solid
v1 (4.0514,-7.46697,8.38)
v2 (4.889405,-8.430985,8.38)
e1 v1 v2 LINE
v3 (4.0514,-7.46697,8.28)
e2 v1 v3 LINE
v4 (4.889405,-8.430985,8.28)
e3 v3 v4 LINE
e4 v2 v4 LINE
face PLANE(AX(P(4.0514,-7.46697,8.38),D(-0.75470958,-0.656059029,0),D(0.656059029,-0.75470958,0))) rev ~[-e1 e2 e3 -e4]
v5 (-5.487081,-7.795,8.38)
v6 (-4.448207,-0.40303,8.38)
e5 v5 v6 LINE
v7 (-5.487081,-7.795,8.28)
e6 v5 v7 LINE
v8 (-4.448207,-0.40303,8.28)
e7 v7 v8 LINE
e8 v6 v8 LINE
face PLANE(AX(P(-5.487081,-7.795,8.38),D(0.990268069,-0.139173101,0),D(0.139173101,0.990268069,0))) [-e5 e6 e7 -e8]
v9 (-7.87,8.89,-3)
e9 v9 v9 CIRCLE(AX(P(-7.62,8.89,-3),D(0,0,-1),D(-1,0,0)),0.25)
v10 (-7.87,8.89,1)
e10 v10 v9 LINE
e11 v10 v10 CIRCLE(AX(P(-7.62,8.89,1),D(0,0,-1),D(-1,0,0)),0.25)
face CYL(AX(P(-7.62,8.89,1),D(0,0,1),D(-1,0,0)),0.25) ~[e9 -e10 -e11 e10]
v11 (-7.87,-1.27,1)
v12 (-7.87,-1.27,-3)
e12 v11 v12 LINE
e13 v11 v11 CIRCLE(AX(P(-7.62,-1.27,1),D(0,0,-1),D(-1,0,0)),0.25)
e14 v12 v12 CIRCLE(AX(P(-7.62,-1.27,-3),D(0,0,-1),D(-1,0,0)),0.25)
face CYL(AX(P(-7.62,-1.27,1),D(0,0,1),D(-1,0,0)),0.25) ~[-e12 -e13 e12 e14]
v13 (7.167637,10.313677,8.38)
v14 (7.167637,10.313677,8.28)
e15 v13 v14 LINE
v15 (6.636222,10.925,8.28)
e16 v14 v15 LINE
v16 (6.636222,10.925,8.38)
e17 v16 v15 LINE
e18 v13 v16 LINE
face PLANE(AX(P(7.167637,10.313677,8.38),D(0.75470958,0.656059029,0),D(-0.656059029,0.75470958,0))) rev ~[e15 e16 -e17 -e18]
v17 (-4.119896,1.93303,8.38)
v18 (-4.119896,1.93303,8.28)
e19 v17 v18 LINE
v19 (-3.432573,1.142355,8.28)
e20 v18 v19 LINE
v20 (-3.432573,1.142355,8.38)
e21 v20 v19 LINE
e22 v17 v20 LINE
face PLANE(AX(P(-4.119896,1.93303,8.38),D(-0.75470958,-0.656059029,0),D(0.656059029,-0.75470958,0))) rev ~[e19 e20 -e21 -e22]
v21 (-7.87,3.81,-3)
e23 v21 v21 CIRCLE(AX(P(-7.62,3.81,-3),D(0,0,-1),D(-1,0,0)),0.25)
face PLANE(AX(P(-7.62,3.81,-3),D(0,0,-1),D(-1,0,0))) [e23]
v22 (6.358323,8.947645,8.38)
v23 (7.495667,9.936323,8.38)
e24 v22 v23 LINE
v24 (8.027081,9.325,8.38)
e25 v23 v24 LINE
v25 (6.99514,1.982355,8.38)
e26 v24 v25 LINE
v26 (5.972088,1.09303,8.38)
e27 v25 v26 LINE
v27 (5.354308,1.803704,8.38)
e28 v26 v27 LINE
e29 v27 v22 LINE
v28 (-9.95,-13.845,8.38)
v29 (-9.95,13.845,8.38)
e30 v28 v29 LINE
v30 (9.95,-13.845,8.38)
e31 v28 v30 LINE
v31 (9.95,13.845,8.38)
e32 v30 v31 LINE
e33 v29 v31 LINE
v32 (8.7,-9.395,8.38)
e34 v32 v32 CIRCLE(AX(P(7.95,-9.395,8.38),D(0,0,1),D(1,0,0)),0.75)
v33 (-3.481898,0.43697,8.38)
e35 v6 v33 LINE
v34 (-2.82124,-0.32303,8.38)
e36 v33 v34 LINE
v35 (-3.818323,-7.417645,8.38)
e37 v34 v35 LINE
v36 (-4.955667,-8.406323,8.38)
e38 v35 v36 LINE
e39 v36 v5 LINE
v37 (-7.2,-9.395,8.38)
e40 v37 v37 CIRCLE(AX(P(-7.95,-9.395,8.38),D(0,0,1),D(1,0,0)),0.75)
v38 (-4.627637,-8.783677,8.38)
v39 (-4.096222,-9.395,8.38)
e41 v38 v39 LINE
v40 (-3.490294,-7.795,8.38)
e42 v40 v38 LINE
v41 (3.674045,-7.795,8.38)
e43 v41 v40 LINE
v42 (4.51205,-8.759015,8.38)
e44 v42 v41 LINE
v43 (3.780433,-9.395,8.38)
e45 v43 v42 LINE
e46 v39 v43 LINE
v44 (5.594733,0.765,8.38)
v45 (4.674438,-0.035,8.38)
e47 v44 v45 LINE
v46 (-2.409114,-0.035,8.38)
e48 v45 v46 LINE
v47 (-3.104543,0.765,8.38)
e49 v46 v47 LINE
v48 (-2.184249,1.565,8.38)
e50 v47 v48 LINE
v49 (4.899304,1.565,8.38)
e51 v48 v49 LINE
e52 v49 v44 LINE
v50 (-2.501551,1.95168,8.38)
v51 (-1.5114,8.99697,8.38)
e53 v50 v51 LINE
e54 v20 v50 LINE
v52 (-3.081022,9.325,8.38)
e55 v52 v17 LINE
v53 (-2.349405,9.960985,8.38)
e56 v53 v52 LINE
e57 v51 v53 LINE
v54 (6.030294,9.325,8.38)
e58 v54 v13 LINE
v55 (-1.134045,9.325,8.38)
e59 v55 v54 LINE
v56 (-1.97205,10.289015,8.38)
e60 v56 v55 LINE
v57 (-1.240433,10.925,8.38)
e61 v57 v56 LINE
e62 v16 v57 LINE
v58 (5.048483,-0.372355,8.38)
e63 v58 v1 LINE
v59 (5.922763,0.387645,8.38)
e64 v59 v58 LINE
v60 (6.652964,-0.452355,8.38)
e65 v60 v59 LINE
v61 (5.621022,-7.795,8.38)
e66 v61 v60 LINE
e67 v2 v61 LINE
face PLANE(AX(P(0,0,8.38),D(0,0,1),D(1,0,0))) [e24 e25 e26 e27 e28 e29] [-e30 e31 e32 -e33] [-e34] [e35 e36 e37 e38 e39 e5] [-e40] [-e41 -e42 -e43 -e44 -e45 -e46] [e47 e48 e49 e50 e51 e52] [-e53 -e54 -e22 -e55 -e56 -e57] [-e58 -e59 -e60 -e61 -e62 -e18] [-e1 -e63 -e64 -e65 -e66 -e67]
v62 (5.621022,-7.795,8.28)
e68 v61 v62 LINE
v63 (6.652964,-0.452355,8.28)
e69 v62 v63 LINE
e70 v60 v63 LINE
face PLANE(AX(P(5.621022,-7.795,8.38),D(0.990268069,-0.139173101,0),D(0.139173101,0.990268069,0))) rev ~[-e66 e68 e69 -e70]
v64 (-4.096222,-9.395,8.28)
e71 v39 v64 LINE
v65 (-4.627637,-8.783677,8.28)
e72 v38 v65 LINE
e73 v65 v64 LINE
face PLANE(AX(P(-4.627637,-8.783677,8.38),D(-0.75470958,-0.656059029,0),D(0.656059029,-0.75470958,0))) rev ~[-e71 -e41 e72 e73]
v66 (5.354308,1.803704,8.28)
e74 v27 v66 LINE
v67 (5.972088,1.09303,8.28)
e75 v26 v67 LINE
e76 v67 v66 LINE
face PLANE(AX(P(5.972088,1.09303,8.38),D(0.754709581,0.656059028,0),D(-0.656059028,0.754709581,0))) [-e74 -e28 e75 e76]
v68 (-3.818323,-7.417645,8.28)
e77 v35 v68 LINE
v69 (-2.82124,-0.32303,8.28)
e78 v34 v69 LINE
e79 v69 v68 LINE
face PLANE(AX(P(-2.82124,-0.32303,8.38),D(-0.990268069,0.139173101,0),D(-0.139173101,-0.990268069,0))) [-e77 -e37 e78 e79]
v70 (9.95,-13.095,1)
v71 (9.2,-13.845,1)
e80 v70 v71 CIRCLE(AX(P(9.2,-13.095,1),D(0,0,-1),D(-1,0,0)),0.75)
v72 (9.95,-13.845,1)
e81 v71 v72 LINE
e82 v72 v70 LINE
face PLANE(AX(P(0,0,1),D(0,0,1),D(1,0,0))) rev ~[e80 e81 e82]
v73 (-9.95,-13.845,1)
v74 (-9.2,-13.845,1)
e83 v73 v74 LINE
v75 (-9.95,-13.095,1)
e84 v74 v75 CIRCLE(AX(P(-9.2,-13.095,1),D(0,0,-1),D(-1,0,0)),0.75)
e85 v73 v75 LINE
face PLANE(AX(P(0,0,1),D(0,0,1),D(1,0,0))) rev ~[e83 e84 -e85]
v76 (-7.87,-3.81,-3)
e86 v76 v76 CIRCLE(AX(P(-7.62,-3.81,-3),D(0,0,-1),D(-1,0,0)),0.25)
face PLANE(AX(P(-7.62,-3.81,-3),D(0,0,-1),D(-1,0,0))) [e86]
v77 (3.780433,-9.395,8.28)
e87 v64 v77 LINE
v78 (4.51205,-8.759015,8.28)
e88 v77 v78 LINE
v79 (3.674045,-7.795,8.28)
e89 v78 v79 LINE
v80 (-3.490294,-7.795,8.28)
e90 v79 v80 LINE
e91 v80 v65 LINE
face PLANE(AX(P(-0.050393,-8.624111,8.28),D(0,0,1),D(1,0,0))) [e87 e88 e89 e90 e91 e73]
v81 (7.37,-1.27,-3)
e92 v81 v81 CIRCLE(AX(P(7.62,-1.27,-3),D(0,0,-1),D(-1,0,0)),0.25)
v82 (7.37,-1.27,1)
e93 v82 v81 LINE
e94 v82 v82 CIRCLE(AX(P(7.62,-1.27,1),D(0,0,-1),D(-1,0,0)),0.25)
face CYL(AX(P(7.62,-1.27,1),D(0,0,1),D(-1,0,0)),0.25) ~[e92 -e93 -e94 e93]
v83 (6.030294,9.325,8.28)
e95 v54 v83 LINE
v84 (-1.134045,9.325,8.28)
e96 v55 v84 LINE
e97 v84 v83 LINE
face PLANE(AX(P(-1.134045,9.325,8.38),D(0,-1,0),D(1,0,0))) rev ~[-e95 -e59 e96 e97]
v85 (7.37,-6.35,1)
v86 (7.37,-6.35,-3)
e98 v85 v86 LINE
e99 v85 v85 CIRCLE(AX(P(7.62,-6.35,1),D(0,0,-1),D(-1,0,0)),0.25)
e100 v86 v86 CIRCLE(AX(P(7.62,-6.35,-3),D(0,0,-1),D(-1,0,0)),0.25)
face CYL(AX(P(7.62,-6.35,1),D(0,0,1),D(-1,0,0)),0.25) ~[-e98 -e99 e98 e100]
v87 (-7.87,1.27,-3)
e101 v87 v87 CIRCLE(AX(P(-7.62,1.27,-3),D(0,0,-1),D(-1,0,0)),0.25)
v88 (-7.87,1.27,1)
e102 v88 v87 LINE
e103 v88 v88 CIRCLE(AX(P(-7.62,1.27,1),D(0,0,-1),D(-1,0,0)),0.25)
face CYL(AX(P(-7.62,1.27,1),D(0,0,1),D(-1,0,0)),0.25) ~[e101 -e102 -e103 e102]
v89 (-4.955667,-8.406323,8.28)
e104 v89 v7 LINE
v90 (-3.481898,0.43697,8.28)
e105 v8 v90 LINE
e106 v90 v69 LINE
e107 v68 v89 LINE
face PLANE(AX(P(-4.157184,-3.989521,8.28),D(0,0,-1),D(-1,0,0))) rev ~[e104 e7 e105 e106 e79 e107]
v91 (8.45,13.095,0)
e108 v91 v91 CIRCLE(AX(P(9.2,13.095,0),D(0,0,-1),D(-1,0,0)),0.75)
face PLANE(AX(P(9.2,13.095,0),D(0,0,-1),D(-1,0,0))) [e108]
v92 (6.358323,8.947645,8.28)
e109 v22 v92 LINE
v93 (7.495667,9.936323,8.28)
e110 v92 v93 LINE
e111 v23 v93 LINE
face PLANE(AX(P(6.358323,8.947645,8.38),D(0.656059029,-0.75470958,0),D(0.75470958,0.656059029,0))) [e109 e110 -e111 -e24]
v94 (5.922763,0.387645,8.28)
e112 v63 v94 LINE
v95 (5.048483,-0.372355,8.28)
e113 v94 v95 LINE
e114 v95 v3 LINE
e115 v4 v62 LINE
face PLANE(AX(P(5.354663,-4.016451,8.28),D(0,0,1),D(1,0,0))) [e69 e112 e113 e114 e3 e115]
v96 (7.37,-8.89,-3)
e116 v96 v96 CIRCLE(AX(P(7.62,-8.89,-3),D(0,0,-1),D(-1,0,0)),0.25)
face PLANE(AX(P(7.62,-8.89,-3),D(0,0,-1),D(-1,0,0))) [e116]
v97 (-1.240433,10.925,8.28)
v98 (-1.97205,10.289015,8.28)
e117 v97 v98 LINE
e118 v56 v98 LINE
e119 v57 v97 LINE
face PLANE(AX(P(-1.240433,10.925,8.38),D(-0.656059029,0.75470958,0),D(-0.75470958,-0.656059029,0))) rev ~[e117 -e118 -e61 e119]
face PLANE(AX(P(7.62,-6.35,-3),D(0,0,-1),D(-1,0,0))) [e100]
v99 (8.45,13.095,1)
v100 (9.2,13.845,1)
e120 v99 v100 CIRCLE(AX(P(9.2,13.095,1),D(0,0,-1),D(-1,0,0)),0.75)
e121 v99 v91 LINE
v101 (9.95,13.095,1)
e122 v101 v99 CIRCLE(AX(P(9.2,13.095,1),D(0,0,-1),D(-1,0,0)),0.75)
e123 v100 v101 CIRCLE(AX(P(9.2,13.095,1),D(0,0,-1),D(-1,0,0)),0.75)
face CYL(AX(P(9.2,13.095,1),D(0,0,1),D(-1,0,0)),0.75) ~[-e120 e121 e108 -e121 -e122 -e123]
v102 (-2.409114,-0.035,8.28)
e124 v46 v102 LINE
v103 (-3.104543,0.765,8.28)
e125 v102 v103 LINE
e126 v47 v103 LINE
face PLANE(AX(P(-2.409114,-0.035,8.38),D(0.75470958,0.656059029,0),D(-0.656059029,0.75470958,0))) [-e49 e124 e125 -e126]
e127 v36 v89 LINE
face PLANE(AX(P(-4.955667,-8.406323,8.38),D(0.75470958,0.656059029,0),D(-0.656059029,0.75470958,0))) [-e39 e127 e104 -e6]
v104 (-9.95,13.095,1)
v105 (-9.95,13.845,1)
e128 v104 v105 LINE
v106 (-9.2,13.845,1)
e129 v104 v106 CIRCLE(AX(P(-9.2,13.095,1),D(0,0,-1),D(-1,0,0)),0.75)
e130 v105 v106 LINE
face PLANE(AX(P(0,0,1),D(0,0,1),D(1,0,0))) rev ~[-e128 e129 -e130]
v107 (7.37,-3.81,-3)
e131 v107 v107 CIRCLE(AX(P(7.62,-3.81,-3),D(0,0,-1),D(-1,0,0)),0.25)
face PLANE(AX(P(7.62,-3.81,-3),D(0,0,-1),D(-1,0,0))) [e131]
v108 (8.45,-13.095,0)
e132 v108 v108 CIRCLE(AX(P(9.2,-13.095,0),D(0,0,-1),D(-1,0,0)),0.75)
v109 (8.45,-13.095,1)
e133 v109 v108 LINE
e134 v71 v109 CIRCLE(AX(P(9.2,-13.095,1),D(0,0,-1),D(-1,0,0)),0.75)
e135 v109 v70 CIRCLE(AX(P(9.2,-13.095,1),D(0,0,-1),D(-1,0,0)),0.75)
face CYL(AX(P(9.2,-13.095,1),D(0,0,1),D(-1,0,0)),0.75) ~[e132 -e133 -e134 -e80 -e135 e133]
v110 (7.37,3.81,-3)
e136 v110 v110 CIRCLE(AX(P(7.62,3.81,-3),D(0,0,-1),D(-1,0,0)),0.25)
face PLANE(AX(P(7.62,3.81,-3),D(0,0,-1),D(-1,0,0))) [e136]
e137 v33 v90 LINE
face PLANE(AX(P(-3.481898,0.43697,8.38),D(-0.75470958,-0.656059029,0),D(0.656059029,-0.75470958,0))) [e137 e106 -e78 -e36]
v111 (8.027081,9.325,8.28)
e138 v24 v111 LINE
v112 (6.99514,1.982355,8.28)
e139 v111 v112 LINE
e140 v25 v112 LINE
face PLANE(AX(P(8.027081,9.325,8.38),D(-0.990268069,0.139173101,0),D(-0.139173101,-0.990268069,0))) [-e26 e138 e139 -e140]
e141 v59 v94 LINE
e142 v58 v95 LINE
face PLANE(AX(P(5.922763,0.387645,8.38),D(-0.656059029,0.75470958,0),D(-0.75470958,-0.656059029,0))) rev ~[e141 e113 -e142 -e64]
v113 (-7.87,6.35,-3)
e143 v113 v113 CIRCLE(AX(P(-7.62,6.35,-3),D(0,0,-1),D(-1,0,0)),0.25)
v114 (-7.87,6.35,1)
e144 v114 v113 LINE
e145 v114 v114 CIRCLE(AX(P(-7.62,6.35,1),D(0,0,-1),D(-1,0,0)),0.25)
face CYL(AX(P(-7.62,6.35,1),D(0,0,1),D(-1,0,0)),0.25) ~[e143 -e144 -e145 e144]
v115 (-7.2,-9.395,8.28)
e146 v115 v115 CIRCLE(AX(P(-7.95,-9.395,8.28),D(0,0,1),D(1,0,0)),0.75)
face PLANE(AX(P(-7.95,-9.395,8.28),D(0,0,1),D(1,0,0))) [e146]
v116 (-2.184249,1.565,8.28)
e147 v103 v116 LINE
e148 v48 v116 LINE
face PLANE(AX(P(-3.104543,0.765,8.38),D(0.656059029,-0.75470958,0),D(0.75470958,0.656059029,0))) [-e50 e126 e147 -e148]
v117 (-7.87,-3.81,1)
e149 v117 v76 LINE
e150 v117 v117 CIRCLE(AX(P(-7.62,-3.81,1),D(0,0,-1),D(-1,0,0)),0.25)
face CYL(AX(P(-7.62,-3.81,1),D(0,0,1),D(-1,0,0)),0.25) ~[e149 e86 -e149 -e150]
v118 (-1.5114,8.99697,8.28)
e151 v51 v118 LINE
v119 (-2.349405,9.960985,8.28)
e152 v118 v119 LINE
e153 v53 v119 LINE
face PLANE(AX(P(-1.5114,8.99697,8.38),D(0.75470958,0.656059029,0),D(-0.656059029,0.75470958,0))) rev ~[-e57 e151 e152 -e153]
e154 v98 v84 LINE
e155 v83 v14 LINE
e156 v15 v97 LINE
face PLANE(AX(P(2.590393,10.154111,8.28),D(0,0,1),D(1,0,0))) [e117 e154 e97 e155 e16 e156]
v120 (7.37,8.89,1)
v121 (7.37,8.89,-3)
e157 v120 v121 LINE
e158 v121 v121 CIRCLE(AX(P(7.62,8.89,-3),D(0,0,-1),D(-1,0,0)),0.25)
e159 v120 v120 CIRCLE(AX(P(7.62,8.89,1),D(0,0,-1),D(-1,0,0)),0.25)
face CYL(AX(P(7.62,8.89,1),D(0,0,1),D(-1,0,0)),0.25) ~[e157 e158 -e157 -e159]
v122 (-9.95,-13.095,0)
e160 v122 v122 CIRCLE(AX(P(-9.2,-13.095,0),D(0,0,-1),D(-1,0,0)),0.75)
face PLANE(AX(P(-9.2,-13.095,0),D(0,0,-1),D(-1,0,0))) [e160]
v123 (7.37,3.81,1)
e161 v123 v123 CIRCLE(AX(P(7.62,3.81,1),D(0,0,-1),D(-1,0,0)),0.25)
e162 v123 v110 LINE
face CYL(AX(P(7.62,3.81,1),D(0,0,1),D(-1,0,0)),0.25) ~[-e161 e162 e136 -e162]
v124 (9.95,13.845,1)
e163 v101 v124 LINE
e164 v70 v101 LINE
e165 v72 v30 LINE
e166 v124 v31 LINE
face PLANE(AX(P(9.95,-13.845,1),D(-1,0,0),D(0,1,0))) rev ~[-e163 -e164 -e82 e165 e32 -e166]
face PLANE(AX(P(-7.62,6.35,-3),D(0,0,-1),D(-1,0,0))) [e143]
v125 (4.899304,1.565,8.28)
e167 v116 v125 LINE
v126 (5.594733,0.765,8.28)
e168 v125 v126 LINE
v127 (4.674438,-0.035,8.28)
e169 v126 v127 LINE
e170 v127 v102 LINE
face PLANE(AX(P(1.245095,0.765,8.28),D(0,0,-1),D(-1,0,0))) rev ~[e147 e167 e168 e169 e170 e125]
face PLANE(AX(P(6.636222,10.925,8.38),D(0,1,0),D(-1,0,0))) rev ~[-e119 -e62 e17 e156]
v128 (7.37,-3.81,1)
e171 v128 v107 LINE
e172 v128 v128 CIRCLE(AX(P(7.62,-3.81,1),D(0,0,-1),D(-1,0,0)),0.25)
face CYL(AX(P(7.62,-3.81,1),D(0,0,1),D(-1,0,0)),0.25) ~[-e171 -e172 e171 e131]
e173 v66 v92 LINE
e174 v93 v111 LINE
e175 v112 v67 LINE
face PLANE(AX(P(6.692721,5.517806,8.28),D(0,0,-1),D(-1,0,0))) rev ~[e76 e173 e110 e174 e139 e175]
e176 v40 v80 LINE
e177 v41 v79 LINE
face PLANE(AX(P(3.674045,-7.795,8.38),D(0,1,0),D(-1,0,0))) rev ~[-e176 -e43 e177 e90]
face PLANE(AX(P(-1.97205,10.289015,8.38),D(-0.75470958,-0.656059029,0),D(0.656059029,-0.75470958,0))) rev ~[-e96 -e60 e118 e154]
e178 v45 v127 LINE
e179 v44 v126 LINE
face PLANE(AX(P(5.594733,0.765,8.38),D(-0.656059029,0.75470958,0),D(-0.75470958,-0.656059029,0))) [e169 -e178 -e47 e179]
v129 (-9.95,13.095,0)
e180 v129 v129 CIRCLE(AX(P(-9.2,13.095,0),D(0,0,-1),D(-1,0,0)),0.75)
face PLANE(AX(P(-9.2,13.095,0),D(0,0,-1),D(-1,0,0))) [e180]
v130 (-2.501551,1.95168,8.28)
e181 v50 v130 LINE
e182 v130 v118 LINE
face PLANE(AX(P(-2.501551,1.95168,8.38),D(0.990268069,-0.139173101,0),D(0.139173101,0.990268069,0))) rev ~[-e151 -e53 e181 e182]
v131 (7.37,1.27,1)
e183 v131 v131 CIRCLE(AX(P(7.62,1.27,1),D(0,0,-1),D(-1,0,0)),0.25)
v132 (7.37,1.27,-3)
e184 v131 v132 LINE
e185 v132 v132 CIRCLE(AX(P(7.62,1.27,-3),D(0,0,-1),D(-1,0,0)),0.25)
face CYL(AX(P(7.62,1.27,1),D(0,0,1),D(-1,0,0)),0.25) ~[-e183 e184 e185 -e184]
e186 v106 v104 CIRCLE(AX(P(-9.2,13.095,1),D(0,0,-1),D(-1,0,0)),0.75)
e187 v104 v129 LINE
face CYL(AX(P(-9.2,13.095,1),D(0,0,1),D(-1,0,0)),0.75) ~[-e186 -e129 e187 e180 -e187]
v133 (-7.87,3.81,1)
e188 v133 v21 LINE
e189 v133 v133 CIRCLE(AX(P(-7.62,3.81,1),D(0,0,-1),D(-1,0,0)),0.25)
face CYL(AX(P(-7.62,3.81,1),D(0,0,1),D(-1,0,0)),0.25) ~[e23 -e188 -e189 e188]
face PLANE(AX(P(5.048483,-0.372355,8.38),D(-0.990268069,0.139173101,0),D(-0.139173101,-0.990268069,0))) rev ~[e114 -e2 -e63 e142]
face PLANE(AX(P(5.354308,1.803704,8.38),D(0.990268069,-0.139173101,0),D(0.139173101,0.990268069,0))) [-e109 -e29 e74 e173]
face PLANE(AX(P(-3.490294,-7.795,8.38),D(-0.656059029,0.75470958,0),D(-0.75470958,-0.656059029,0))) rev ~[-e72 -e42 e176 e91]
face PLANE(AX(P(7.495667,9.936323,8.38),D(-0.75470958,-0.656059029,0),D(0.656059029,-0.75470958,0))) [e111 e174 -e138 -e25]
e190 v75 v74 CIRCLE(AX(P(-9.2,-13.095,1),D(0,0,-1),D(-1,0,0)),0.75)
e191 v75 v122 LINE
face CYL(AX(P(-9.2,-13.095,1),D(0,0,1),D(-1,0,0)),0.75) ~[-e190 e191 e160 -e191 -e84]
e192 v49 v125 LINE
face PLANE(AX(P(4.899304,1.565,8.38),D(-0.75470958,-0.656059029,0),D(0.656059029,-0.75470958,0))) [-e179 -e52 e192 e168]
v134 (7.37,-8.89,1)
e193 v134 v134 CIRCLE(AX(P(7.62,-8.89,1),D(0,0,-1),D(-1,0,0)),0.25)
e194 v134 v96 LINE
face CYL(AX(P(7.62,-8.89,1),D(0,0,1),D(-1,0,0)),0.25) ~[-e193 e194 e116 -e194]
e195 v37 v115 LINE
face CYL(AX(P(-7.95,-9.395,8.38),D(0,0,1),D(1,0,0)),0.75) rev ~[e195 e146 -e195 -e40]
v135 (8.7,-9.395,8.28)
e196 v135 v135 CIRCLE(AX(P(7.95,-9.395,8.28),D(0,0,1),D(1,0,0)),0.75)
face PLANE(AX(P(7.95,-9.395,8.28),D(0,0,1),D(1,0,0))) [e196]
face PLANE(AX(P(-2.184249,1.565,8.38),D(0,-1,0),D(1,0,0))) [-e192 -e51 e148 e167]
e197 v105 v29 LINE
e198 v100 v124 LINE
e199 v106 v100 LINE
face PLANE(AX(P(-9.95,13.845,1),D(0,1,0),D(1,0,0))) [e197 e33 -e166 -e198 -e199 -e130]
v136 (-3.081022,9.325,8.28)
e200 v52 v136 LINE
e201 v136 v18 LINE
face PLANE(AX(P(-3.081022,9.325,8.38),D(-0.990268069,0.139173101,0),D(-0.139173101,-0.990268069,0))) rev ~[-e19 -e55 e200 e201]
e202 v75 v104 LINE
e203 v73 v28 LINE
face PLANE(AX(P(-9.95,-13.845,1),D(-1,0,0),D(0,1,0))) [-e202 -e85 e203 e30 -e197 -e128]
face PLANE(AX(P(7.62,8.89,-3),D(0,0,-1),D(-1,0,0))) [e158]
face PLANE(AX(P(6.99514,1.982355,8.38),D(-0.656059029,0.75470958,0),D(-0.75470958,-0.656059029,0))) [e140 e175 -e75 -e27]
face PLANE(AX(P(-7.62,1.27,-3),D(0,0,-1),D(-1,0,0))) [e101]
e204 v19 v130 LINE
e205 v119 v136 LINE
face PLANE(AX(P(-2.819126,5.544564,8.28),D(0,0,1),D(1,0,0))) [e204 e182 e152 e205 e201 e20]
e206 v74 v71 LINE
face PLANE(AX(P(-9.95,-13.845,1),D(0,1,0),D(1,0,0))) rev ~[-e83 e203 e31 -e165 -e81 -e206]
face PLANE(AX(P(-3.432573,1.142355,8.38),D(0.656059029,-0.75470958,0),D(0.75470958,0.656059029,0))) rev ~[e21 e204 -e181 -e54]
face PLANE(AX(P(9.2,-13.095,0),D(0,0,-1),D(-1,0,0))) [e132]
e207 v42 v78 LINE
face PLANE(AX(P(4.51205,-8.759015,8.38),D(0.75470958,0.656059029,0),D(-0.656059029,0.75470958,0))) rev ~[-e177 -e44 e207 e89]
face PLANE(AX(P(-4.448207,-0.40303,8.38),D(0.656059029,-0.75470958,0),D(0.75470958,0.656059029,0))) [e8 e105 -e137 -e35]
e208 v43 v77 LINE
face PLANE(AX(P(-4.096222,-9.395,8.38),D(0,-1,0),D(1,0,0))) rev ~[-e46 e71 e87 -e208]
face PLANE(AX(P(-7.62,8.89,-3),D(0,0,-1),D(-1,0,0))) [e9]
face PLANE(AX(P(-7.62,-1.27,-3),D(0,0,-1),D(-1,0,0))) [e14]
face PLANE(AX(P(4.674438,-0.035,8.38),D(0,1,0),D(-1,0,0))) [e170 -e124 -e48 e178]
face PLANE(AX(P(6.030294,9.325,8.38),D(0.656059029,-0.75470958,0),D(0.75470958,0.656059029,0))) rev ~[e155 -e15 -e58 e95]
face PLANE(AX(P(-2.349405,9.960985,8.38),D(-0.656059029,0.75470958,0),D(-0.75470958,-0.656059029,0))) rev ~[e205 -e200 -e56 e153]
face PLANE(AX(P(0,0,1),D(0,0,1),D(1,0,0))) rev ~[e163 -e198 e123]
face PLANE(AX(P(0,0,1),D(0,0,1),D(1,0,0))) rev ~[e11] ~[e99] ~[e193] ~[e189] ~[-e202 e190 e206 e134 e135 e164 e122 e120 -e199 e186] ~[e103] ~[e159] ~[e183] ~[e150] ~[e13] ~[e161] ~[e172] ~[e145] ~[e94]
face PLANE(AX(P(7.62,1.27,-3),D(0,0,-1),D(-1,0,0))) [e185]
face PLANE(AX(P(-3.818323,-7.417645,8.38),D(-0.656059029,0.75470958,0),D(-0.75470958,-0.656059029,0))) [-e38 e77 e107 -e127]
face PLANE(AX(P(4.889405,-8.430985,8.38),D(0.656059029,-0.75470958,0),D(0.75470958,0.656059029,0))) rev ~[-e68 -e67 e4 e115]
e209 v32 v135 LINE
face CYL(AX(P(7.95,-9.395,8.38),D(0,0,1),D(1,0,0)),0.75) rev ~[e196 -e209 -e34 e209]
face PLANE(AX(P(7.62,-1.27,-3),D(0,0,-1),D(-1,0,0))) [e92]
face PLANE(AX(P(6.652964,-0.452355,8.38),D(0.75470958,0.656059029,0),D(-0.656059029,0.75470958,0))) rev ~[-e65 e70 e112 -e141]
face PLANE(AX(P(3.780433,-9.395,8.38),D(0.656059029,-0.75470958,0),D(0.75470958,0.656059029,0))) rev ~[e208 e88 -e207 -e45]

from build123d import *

# Parameters (mm, degrees)
EXTRUDE_START       = 1
SKETCH_1_W          = 19.9
SKETCH_1_H          = 27.69
EXTRUDE_1_DEPTH     = 7.38
SKETCH_3_R          = 0.75
EXTRUDE_3_DEPTH     = 1
SKETCH_2_R          = 0.25
EXTRUDE_2_DEPTH     = 4
SKETCH_4_R          = 0.75
CUT_EXTRUDE_1_DEPTH = 0.1


with BuildPart() as part:
    # Эскиз1 → Бобышка-Вытянуть1 (new body)
    with BuildSketch(Plane.XY.offset(EXTRUDE_START)):
        Rectangle(SKETCH_1_W, SKETCH_1_H)
    extrude(amount=EXTRUDE_1_DEPTH)

    # Эскиз3 → Бобышка-Вытянуть3 (add)
    with BuildSketch(Plane(origin=(0, 0, 1), x_dir=(-1, 0, 0), z_dir=(0, 0, -1))):
        with Locations((-9.2, 13.095)):
            Circle(SKETCH_3_R)
        with Locations((9.2, 13.095)):
            Circle(SKETCH_3_R)
        with Locations((9.2, -13.095)):
            Circle(SKETCH_3_R)
        with Locations((-9.2, -13.095)):
            Circle(SKETCH_3_R)
    extrude(amount=EXTRUDE_3_DEPTH)

    # Эскиз2 → Бобышка-Вытянуть2 (add)
    with BuildSketch(Plane(origin=(0, 0, 1), x_dir=(-1, 0, 0), z_dir=(0, 0, -1))):
        with Locations((-7.62, -8.89)):
            Circle(SKETCH_2_R)
        with Locations((7.62, -3.81)):
            Circle(SKETCH_2_R)
        with Locations((7.62, -1.27)):
            Circle(SKETCH_2_R)
        with Locations((7.62, 1.27)):
            Circle(SKETCH_2_R)
        with Locations((7.62, 3.81)):
            Circle(SKETCH_2_R)
        with Locations((7.62, 6.35)):
            Circle(SKETCH_2_R)
        with Locations((7.62, 8.89)):
            Circle(SKETCH_2_R)
        with Locations((-7.62, -6.35)):
            Circle(SKETCH_2_R)
        with Locations((-7.62, -3.81)):
            Circle(SKETCH_2_R)
        with Locations((-7.62, -1.27)):
            Circle(SKETCH_2_R)
        with Locations((-7.62, 1.27)):
            Circle(SKETCH_2_R)
        with Locations((-7.62, 3.81)):
            Circle(SKETCH_2_R)
        with Locations((-7.62, 8.89)):
            Circle(SKETCH_2_R)
    extrude(amount=EXTRUDE_2_DEPTH)

    # Эскиз4 → Вырез-Вытянуть1 (cut)
    with BuildSketch(Plane.XY.offset(8.38)):
        with Locations((-7.95, -9.395)):
            Circle(SKETCH_4_R)
        with Locations((7.95, -9.395)):
            Circle(SKETCH_4_R)
        Polygon((-3.10454324, 0.765), (-2.184248514, 1.565), (4.899303826, 1.565), (5.594733216, 0.765), (4.67443849, -0.035), (-2.409113849, -0.035), align=None)
        Polygon((-4.096222413, -9.395), (3.780432652, -9.395), (4.512049983, -8.759014757), (3.674044739, -7.795), (-3.490293806, -7.795), (-4.627637046, -8.783677395), align=None)
        Polygon((5.048482741, -0.37235479), (4.05139953, -7.466970486), (4.889404773, -8.430985243), (5.621022104, -7.795), (6.652963591, -0.45235479), (5.922762731, 0.38764521), align=None)
        Polygon((-4.119895806, 1.933029514), (-3.432572754, 1.14235479), (-2.501550526, 1.951680066), (-1.51139953, 8.996970486), (-2.349404773, 9.960985243), (-3.081022104, 9.325), align=None)
        Polygon((-4.448207492, -0.403029514), (-3.48189803, 0.436970486), (-2.821240109, -0.323029514), (-3.818323321, -7.41764521), (-4.955666561, -8.406322605), (-5.487081194, -7.795), align=None)
        Polygon((-1.240432652, 10.925), (-1.972049983, 10.289014757), (-1.134044739, 9.325), (6.030293806, 9.325), (7.167637046, 10.313677395), (6.636222413, 10.925), align=None)
        Polygon((6.358323321, 8.94764521), (7.495666561, 9.936322605), (8.027081194, 9.325), (6.995139707, 1.98235479), (5.972088006, 1.093029514), (5.354307894, 1.803704239), align=None)
    extrude(amount=-CUT_EXTRUDE_1_DEPTH, mode=Mode.SUBTRACT)


solid = part.part
